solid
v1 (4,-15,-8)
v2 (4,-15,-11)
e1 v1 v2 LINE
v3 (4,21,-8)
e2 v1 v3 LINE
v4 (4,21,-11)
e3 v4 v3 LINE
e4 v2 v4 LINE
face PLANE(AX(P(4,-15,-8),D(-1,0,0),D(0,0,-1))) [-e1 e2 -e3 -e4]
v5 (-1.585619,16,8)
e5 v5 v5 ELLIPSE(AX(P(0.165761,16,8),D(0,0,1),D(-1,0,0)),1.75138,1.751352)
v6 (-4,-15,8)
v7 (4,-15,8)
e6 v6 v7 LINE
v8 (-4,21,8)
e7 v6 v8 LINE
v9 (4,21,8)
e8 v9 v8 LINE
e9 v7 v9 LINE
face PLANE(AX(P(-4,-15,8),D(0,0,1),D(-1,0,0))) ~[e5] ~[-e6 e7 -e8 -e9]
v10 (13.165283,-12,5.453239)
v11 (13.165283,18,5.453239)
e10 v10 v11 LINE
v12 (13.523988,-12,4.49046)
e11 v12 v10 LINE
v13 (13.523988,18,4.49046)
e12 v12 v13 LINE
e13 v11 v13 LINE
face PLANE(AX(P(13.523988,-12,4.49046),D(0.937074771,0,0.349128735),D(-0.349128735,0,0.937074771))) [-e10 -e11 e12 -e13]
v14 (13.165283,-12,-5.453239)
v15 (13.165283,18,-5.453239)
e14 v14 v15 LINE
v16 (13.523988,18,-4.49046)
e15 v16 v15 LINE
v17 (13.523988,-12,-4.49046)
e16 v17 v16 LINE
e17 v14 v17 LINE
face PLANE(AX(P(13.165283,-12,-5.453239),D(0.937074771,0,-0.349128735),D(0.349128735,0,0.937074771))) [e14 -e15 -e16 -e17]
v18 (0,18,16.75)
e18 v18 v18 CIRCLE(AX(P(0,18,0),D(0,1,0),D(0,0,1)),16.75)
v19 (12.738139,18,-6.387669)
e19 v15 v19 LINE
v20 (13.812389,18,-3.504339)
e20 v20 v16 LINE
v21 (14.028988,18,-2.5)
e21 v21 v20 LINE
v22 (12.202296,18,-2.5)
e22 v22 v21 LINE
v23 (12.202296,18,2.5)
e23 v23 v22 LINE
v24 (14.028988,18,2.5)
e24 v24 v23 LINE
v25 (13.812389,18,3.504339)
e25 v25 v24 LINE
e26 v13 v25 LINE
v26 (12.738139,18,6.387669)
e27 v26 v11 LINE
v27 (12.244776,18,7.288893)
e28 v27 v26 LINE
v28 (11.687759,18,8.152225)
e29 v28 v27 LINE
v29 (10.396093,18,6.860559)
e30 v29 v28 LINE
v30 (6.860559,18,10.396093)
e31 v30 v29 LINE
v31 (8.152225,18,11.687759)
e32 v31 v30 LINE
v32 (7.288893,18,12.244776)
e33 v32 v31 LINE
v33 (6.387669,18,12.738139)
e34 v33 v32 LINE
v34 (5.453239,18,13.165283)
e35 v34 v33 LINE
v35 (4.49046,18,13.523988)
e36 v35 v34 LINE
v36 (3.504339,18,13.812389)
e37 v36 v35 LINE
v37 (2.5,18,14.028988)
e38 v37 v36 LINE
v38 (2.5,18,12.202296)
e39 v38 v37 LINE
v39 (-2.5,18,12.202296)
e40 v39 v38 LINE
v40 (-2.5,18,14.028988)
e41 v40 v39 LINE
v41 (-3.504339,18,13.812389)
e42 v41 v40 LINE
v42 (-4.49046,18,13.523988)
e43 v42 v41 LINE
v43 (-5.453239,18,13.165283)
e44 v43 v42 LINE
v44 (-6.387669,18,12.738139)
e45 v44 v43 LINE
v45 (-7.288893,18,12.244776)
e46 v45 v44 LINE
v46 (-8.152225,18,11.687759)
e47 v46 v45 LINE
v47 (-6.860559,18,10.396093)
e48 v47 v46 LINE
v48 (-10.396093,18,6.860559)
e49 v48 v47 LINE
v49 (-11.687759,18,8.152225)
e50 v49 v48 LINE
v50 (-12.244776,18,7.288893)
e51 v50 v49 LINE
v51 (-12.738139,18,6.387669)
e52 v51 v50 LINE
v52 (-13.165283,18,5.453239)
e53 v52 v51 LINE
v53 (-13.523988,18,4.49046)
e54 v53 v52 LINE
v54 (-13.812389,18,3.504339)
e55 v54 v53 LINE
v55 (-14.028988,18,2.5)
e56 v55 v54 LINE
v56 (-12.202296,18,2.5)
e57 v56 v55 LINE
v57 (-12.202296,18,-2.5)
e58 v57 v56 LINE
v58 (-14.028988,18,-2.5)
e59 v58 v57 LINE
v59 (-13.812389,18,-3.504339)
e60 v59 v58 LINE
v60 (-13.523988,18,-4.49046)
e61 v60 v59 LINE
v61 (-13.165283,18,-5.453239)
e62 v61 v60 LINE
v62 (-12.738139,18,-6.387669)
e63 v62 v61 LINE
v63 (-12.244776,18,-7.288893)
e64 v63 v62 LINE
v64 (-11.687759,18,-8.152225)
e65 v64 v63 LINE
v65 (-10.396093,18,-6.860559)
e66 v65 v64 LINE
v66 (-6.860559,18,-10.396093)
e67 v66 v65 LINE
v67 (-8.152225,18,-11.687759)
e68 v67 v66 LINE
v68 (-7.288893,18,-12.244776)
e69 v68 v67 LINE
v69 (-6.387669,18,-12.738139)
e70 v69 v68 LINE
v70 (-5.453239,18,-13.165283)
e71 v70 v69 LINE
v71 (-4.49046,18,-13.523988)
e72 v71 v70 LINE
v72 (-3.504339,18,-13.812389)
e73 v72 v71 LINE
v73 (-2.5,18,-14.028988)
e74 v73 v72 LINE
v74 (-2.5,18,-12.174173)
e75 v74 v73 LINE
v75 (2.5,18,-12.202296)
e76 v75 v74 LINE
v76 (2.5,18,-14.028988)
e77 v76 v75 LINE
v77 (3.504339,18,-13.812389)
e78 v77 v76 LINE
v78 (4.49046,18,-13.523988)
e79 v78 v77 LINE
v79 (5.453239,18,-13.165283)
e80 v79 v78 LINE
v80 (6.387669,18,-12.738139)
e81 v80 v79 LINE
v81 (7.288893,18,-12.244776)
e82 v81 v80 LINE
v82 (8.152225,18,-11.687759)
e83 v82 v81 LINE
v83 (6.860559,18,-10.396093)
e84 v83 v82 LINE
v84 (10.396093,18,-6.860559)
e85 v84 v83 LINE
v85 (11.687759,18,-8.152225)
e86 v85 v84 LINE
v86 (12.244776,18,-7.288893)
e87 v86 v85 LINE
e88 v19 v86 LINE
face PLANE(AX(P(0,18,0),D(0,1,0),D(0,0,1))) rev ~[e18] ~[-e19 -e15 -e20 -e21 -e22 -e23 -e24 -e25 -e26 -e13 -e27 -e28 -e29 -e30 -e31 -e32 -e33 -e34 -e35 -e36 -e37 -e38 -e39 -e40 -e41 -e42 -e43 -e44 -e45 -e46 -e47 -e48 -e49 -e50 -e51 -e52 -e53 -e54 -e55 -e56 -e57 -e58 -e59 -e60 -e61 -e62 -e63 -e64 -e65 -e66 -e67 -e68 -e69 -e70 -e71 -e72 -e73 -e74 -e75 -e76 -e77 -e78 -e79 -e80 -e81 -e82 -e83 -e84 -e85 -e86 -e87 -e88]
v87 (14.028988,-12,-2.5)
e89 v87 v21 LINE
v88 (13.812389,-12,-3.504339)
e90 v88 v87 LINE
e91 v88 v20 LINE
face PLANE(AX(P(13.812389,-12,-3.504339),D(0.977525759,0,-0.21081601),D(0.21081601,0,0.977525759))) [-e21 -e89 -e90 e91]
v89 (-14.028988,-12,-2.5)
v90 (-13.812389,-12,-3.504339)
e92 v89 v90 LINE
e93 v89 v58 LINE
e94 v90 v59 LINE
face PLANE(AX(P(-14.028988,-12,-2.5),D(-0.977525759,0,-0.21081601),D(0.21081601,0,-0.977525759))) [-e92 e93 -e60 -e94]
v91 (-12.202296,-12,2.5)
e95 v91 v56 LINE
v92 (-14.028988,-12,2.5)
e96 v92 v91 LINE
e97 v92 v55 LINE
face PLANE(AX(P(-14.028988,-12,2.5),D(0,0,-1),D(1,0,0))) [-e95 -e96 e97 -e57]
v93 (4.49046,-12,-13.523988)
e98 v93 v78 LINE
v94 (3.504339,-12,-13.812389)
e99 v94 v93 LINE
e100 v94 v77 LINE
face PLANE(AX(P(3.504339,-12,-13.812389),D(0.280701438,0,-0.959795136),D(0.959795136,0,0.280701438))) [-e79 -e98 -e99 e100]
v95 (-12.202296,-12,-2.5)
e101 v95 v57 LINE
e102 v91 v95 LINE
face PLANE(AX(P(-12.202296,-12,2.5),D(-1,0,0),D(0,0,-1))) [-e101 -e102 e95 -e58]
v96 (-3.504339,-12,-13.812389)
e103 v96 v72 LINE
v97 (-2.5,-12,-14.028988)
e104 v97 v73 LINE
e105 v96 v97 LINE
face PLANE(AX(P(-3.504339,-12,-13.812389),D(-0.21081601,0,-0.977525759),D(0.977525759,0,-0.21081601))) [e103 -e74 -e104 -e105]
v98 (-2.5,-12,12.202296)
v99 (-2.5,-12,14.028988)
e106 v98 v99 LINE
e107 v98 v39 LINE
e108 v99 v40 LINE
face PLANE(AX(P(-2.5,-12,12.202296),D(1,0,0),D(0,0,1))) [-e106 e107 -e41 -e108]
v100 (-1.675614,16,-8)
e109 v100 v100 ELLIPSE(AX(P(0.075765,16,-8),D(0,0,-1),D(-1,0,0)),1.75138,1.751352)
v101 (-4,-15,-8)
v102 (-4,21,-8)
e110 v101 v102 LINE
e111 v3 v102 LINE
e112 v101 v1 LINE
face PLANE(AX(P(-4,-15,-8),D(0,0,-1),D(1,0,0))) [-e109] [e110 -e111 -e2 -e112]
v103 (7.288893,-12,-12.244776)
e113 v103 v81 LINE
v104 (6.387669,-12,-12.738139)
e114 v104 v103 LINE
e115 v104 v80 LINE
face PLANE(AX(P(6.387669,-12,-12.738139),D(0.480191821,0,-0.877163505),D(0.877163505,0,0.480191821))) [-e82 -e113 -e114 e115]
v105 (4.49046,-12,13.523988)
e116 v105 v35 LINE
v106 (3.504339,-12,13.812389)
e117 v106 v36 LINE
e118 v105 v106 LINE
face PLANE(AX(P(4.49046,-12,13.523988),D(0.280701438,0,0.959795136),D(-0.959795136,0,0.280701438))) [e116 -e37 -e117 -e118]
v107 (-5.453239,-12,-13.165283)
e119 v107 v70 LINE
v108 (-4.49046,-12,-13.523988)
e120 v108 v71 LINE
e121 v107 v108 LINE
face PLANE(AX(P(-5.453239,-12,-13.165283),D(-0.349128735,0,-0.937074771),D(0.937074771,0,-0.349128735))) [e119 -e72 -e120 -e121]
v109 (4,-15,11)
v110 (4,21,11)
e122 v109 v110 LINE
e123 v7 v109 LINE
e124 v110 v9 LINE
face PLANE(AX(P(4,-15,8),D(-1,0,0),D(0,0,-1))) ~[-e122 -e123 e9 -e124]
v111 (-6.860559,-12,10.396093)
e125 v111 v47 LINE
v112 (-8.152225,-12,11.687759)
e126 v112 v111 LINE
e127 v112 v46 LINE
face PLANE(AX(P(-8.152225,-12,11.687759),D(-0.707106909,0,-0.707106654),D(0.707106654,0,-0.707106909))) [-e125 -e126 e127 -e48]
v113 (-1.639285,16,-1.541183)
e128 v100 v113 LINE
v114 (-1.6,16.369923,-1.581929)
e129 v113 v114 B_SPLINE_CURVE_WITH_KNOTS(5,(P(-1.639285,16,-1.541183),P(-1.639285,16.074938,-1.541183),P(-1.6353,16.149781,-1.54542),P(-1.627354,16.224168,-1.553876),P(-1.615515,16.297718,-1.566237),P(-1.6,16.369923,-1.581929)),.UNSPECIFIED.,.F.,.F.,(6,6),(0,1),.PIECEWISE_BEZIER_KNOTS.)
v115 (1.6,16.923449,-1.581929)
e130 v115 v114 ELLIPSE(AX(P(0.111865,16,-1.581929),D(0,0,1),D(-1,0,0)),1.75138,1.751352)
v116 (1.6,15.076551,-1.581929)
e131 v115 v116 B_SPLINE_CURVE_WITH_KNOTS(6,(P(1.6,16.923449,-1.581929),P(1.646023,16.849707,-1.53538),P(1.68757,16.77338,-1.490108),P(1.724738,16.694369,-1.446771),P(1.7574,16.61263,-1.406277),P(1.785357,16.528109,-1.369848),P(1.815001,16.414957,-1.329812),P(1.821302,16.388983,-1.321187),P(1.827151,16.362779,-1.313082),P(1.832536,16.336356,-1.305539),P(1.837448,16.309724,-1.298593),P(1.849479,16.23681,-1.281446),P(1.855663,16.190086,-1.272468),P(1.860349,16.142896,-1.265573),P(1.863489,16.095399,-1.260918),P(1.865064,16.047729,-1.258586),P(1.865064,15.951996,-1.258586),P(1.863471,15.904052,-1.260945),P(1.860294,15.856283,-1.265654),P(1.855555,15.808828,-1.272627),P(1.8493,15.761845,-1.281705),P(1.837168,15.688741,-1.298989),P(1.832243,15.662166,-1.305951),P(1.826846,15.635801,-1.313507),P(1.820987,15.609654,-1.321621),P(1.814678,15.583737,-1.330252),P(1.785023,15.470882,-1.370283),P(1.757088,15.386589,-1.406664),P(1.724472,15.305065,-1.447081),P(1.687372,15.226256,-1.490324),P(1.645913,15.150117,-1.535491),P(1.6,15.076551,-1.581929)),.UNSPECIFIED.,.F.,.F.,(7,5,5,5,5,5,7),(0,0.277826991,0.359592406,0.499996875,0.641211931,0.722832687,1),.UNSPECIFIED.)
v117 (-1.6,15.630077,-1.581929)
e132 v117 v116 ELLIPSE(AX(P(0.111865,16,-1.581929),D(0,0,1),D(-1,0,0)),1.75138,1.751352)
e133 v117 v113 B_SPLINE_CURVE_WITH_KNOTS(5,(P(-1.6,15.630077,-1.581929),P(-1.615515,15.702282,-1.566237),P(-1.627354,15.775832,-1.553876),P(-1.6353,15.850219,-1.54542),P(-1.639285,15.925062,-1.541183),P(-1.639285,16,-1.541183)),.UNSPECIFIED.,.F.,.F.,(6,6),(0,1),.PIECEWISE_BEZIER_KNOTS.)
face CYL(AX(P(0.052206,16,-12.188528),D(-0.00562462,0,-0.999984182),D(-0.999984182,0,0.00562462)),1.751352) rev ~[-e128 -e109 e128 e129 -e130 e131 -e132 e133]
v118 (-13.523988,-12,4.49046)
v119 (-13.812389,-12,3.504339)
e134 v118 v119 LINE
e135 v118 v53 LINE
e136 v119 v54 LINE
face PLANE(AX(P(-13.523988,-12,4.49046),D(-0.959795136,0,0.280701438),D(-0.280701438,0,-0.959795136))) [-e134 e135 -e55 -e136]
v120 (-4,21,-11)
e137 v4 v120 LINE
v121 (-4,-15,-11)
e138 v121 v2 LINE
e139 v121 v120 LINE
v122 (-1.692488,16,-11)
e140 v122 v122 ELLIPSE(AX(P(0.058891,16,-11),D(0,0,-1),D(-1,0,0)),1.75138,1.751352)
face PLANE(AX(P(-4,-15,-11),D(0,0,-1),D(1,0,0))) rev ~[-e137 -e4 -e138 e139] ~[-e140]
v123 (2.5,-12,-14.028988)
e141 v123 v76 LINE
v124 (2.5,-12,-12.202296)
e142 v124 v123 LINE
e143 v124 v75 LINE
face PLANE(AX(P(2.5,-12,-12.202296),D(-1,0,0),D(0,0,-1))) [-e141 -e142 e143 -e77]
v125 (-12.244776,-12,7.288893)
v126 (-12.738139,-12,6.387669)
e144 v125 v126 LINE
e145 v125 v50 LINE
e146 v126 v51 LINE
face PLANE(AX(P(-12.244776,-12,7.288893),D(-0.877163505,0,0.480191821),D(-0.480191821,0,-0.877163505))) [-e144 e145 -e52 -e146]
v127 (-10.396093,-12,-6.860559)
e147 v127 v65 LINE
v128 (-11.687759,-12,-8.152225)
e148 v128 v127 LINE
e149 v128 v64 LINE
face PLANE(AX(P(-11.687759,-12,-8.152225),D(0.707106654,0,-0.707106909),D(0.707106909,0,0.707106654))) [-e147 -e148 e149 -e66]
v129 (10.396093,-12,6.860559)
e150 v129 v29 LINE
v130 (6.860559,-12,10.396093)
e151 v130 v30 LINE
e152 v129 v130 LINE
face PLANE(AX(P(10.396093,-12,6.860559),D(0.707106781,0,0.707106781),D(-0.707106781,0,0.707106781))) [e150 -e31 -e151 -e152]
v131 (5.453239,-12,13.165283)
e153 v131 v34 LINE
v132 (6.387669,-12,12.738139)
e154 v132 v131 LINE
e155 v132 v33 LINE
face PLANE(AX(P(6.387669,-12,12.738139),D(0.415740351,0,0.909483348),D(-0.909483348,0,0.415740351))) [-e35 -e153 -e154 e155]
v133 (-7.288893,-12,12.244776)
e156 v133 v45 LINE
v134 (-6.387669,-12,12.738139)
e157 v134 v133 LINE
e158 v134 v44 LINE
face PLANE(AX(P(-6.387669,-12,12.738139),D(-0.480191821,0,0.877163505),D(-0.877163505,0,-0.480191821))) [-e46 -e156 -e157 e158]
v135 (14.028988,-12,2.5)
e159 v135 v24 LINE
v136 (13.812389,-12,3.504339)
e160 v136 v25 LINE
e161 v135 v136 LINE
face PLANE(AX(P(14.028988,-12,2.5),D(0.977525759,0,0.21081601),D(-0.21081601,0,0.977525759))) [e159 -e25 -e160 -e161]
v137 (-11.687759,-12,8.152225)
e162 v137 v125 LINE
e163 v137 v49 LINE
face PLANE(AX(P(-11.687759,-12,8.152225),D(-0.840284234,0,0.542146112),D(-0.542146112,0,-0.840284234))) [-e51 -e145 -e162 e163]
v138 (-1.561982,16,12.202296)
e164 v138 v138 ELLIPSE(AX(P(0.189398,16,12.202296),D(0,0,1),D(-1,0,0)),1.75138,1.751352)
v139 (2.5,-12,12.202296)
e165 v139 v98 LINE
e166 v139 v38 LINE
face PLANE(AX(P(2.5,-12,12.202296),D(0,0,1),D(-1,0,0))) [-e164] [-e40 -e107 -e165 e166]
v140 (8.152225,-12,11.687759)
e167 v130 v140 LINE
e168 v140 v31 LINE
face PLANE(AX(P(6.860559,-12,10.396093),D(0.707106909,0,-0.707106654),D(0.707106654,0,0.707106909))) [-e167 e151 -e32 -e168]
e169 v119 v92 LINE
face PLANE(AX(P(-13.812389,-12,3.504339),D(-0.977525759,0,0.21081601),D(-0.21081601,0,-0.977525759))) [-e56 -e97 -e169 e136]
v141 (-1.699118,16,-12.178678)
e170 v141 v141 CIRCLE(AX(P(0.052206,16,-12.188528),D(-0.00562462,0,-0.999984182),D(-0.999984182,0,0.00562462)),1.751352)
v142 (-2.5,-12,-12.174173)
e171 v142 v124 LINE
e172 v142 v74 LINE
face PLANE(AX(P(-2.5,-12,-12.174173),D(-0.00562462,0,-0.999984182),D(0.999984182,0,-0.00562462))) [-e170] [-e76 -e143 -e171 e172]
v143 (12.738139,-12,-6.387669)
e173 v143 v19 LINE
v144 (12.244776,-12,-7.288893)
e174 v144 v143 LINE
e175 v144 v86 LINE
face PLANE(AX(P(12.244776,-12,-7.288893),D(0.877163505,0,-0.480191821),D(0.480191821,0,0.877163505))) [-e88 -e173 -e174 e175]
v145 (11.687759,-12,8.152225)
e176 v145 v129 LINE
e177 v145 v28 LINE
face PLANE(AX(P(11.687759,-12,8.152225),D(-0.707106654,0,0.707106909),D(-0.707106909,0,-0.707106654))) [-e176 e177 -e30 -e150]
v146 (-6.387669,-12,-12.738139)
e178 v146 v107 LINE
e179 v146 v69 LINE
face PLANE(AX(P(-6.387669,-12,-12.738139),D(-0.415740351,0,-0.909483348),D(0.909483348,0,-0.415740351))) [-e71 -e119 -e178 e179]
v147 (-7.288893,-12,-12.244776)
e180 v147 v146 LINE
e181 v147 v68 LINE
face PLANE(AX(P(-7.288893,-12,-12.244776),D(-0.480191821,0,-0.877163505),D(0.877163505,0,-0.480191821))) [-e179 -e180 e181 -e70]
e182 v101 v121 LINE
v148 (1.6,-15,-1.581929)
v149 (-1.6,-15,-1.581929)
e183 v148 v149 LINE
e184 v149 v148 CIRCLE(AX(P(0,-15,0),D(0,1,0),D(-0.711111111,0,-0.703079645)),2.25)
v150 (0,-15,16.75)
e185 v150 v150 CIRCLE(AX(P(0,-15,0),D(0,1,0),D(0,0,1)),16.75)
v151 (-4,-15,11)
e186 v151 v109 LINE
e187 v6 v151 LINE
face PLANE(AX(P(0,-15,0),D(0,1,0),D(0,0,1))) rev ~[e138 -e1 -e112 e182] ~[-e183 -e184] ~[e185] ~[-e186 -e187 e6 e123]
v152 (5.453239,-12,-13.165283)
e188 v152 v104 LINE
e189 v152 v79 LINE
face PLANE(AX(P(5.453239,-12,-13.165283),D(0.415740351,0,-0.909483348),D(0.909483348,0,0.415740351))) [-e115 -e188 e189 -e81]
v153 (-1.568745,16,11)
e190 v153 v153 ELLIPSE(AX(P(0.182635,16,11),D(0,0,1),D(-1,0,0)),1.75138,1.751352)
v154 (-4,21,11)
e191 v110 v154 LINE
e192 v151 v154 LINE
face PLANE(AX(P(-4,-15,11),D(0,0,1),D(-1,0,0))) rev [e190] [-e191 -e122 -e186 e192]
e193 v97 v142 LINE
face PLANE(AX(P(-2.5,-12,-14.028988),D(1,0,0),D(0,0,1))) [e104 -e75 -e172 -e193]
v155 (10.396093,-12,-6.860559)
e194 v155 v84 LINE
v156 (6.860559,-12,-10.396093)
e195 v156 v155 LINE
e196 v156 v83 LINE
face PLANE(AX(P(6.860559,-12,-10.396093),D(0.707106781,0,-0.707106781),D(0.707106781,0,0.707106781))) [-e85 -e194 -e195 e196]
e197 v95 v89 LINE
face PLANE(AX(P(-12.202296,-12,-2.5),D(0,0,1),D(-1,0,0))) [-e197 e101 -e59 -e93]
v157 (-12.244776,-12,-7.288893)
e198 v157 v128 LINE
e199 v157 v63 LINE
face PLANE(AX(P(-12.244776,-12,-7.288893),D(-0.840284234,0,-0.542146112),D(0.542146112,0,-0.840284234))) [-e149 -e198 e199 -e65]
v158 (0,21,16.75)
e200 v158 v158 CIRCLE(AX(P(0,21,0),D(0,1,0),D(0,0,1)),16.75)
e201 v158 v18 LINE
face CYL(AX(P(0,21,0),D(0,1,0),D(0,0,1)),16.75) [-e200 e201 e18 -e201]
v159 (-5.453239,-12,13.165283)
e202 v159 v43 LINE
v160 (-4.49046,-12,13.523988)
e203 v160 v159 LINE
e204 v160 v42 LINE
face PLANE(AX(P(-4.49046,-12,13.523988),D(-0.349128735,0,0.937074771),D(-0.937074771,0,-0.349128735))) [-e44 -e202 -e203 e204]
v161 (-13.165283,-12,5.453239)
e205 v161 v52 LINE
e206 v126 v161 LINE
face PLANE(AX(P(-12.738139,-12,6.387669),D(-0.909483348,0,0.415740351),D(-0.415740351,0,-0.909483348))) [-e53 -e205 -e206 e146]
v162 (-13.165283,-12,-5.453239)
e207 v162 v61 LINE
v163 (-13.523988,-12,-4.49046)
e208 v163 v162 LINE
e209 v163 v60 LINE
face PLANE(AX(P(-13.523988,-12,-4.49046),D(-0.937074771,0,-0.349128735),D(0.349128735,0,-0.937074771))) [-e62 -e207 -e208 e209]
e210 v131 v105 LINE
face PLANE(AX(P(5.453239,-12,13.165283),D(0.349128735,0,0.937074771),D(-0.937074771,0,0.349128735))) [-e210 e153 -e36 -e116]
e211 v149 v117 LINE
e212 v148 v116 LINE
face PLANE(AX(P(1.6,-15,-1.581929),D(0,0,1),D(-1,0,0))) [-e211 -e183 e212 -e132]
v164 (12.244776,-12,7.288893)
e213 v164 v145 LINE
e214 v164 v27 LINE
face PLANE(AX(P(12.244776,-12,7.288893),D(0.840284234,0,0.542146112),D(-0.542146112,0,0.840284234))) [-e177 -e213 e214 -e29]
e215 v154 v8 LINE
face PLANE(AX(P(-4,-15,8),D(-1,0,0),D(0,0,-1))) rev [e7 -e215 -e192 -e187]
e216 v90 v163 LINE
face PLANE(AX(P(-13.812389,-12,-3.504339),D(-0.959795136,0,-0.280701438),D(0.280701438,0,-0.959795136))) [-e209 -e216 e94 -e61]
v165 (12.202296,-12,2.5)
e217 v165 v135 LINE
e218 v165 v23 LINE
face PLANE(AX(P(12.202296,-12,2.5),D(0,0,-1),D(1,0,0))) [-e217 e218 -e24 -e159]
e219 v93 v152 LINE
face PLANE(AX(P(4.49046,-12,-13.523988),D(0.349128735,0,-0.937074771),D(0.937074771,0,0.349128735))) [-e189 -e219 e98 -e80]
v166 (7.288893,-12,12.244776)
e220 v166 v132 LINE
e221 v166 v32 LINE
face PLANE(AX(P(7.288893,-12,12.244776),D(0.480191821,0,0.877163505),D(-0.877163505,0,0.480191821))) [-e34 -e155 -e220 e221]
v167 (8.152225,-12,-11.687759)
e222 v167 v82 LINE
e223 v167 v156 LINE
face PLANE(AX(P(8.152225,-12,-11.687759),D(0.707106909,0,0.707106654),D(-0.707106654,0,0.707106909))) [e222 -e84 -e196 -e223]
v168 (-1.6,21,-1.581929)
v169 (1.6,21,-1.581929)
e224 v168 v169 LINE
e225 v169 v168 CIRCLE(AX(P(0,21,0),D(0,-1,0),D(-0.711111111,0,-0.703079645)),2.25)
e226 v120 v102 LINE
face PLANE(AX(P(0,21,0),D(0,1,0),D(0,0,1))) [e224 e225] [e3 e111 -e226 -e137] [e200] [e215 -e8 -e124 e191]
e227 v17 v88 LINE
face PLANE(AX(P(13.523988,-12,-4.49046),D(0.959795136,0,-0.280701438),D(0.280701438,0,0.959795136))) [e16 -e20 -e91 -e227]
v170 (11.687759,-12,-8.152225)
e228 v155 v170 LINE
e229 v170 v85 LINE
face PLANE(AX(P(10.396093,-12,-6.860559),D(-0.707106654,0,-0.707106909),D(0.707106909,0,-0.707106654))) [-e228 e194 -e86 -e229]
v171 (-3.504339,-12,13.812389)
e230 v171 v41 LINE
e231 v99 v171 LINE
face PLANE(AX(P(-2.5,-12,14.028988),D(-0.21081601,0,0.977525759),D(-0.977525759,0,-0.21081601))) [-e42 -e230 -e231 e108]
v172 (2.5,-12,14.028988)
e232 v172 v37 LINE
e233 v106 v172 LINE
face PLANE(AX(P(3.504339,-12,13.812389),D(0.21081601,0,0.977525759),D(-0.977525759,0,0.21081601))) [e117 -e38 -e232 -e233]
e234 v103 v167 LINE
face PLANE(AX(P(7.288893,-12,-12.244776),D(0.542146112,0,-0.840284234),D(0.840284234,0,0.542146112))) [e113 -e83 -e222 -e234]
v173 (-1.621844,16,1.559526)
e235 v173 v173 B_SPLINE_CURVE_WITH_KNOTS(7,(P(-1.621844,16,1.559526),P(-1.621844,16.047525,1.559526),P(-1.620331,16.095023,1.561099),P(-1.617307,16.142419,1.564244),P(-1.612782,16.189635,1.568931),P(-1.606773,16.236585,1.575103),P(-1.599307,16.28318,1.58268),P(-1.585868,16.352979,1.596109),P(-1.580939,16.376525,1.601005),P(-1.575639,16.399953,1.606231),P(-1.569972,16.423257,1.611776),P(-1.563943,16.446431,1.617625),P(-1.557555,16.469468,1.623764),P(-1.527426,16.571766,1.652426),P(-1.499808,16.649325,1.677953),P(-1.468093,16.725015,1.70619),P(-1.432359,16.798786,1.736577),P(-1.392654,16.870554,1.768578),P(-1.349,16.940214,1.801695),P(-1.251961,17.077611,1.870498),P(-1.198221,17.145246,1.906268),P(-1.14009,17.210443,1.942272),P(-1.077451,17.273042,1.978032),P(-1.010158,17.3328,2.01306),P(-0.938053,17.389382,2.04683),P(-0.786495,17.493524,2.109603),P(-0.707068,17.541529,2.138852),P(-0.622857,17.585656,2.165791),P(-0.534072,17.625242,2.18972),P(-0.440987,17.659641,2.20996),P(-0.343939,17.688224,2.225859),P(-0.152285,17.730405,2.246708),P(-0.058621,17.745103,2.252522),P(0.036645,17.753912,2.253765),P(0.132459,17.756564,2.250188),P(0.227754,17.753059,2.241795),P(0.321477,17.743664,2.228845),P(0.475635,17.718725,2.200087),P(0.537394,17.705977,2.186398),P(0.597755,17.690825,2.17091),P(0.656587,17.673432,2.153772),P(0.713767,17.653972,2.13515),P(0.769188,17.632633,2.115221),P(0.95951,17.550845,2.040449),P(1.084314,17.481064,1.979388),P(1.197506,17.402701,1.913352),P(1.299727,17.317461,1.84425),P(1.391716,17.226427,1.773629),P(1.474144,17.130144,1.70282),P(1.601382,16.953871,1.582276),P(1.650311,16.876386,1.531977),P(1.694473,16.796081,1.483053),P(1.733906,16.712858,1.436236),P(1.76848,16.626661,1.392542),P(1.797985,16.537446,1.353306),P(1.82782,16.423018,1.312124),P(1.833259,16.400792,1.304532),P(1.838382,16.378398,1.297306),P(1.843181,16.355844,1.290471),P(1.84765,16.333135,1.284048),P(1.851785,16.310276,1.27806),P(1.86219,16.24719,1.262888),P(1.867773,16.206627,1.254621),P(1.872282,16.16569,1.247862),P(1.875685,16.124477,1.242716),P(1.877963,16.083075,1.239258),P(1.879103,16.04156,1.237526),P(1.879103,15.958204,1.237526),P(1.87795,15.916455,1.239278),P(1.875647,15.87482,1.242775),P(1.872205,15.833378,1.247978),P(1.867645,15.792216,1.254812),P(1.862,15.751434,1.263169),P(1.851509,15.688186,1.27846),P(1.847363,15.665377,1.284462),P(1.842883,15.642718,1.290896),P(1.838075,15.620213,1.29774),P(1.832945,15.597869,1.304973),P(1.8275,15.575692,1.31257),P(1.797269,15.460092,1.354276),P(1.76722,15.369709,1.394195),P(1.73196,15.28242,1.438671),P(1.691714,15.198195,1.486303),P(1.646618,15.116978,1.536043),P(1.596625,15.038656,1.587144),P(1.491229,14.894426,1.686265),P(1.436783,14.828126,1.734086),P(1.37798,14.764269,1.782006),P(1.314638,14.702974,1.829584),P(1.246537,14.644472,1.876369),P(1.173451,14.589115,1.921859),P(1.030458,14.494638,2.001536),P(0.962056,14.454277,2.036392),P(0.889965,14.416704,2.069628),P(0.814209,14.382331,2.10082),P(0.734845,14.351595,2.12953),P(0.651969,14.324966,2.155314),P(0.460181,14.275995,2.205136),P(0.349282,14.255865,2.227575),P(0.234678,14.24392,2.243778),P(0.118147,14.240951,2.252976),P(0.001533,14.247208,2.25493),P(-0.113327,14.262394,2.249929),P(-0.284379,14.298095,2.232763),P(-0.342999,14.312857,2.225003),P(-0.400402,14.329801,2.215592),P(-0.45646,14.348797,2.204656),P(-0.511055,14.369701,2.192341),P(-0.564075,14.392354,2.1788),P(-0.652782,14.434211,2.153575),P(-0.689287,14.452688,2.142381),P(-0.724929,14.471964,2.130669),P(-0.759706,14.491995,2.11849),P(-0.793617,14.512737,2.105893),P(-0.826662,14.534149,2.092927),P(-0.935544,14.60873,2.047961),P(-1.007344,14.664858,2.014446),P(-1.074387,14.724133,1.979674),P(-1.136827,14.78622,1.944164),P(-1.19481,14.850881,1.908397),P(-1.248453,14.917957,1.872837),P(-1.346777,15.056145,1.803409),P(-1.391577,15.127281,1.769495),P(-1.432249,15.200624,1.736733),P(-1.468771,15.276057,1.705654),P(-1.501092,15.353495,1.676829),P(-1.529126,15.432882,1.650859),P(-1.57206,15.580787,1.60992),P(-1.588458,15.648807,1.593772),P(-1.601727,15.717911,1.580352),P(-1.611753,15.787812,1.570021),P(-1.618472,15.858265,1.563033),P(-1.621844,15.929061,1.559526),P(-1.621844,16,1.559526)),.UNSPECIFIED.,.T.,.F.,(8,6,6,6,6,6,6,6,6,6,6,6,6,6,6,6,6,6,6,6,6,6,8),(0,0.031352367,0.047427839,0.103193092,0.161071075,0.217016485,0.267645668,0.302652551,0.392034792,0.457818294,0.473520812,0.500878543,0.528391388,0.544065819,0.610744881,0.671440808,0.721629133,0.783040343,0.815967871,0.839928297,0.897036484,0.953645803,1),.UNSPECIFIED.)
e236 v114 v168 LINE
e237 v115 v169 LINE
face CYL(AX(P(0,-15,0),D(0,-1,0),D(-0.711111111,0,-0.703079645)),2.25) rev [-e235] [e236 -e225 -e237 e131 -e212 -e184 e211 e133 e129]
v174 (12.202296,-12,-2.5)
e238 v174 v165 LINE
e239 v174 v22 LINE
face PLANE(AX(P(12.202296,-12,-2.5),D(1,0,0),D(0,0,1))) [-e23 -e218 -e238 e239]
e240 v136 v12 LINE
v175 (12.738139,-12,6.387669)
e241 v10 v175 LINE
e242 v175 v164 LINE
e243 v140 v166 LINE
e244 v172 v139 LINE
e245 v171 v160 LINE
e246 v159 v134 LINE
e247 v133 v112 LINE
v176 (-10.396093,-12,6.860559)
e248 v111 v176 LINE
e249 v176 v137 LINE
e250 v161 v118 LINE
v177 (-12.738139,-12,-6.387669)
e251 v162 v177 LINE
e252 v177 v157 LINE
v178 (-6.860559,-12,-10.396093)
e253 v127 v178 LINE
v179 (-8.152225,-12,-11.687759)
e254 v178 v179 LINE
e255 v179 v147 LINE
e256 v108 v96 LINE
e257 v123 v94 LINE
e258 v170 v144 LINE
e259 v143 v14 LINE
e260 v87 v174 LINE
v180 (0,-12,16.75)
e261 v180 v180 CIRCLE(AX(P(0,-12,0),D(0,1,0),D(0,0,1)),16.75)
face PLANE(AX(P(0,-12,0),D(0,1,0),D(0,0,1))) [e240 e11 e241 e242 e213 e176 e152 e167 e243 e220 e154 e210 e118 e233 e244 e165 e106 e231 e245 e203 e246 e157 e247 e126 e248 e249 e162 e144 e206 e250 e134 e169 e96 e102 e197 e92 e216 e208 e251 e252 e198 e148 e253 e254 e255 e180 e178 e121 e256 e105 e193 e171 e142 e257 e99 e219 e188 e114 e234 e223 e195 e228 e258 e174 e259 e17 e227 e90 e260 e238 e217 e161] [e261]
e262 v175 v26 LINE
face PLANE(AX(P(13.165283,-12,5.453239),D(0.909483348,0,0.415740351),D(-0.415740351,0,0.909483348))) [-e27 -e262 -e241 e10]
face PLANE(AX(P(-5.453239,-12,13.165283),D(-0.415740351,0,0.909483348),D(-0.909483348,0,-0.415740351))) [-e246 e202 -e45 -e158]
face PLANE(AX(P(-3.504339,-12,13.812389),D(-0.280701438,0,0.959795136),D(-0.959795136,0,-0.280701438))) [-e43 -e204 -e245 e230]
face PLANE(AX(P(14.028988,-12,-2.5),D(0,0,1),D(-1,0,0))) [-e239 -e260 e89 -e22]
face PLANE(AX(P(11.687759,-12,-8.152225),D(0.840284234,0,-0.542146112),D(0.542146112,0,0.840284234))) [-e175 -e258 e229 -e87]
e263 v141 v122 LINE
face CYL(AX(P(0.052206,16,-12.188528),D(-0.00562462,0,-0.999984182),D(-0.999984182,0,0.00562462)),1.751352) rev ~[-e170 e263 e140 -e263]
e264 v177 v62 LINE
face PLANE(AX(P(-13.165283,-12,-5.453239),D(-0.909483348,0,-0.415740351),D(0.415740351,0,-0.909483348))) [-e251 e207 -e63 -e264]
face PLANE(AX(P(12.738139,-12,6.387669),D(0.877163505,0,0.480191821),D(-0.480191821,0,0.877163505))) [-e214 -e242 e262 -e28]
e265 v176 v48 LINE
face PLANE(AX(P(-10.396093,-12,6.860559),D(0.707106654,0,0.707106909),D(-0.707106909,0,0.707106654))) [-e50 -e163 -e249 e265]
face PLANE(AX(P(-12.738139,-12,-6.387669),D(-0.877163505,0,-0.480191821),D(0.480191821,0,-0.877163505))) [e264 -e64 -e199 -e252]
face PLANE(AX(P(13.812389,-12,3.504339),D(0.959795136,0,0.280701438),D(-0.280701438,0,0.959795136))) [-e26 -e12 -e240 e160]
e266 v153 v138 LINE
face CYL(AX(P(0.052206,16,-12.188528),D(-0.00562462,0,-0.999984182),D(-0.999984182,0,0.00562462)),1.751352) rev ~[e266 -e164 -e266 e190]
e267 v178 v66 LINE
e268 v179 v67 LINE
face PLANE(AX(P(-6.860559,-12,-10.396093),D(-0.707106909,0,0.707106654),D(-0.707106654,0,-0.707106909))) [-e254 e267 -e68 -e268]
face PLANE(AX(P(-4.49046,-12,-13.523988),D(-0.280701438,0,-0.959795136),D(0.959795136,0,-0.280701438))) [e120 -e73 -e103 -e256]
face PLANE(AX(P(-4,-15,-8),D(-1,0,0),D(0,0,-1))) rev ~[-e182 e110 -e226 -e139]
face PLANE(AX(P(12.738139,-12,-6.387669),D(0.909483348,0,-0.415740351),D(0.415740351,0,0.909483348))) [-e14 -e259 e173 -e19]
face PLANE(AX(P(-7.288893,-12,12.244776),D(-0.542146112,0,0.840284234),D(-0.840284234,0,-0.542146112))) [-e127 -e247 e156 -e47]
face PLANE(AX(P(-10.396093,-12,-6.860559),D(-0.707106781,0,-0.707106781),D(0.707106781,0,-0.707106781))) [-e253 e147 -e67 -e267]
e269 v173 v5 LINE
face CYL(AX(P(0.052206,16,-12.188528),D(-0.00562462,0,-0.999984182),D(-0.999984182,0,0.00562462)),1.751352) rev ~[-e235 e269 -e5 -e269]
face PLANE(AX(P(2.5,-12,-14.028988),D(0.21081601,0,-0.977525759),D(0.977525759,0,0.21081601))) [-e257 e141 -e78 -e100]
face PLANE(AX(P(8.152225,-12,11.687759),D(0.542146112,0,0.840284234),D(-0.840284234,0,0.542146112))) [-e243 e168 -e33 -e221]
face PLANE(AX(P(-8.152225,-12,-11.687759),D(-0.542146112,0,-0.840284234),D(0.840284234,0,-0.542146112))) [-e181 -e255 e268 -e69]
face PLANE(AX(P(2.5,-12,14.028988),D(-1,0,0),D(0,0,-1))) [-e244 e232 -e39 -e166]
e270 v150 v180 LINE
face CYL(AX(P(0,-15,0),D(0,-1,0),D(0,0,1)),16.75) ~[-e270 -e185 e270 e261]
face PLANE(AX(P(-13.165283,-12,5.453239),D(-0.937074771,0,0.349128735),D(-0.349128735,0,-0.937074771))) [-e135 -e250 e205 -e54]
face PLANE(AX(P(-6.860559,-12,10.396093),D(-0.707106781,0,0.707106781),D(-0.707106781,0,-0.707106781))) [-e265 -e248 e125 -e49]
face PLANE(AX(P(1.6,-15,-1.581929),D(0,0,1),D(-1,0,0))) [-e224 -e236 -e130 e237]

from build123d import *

# Parameters (mm, degrees)
SKETCH1_R           = 16.75
BOSS_EXTRUDE1_DEPTH = 3
SKETCH3_R           = 16.75
BOSS_EXTRUDE2_DEPTH = 3
BOSS_EXTRUDE3_DEPTH = 31
SKETCH7_R           = 1.751351815
CUT_EXTRUDE11_DEPTH = 50
CUT_EXTRUDE1_DEPTH  = 50
SKETCH8_W           = 8
SKETCH8_H           = 3
CUT_EXTRUDE12_DEPTH = 40


with BuildPart() as part:
    # Sketch1 → Boss-Extrude1 (new body)
    with BuildSketch(Plane(origin=(0, -15, 0), x_dir=(1, 0, 0), z_dir=(0, 1, 0))):
        Circle(SKETCH1_R)
    extrude(amount=BOSS_EXTRUDE1_DEPTH)



with BuildPart() as body_2:
    # Sketch3 → Boss-Extrude2 (new body)
    with BuildSketch(Plane(origin=(0, 21, 0), x_dir=(1, 0, 0), z_dir=(0, 1, 0))):
        Circle(SKETCH3_R)
    extrude(amount=-BOSS_EXTRUDE2_DEPTH)


with BuildPart() as part_1:
    add(part.part)

    add(body_2.part)  # Boss-Extrude3 merges body 2
    # Sketch6 → Boss-Extrude3 (add)
    with BuildSketch(Plane(origin=(0, -12, 0), x_dir=(1, 0, 0), z_dir=(0, 1, 0))):
        Polygon((-10.39609313, -6.860559341), (-11.68775931, -8.152225055), (-12.244775891, -7.288892753), (-12.738139369, -6.387668662), (-13.165283017, -5.453239195), (-13.523988426, -4.490460269), (-13.812389225, -3.504338907), (-14.028987847, -2.499999944), (-12.202296406, -2.499999944), (-12.202296406, 2.499999944), (-14.028987847, 2.499999944), (-13.812389225, 3.504338907), (-13.523988426, 4.490460269), (-13.165283017, 5.453239195), (-12.738139369, 6.387668662), (-12.244775891, 7.288892753), (-11.68775931, 8.152225055), (-10.39609313, 6.860559341), (-6.860559341, 10.39609313), (-8.152225055, 11.68775931), (-7.288892753, 12.244775891), (-6.387668662, 12.738139369), (-5.453239195, 13.165283017), (-4.490460269, 13.523988426), (-3.504338907, 13.812389225), (-2.499999944, 14.028987847), (-2.499999944, 12.174172863), (2.499999944, 12.202296406), (2.499999944, 14.028987847), (3.504338907, 13.812389225), (4.490460269, 13.523988426), (5.453239195, 13.165283017), (6.387668662, 12.738139369), (7.288892753, 12.244775891), (8.152225055, 11.68775931), (6.860559341, 10.39609313), (10.39609313, 6.860559341), (11.68775931, 8.152225055), (12.244775891, 7.288892753), (12.738139369, 6.387668662), (13.165283017, 5.453239195), (13.523988426, 4.490460269), (13.812389225, 3.504338907), (14.028987847, 2.499999944), (12.202296406, 2.499999944), (12.202296406, -2.499999944), (14.028987847, -2.499999944), (13.812389225, -3.504338907), (13.523988426, -4.490460269), (13.165283017, -5.453239195), (12.738139369, -6.387668662), (12.244775891, -7.288892753), (11.68775931, -8.152225055), (10.39609313, -6.860559341), (6.860559341, -10.39609313), (8.152225055, -11.68775931), (7.288892753, -12.244775891), (6.387668662, -12.738139369), (5.453239195, -13.165283017), (4.490460269, -13.523988426), (3.504338907, -13.812389225), (2.499999944, -14.028987847), (2.499999944, -12.202296406), (-2.499999944, -12.202296406), (-2.499999944, -14.028987847), (-3.504338907, -13.812389225), (-4.490460269, -13.523988426), (-5.453239195, -13.165283017), (-6.387668662, -12.738139369), (-7.288892753, -12.244775891), (-8.152225055, -11.68775931), (-6.860559341, -10.39609313), align=None)
    extrude(amount=BOSS_EXTRUDE3_DEPTH)

    # Sketch7 → Cut-Extrude11 (cut)
    with BuildSketch(Plane(origin=(-0.068553102, 0, -12.187849043), x_dir=(-0.9999841817006155, 0, 0.005624619858302935), z_dir=(-0.005624619858302935, 0, -0.9999841817006155))):
        with Locations((-0.120761258, 16)):
            Circle(SKETCH7_R)
    extrude(amount=-CUT_EXTRUDE11_DEPTH, mode=Mode.SUBTRACT)

    # Sketch2 → Cut-Extrude1 (cut)
    with BuildSketch(Plane(origin=(0, -15, 0), x_dir=(1, 0, 0), z_dir=(0, 1, 0))):
        with BuildLine():
            Line((1.6, 1.581929202), (-1.6, 1.581929202))
            ThreePointArc((-1.6, 1.581929202), (0, -2.25), (1.6, 1.581929202))
        make_face()
    extrude(amount=CUT_EXTRUDE1_DEPTH, mode=Mode.SUBTRACT)

    # Sketch8 → Cut-Extrude12 (cut)
    with BuildSketch(Plane(origin=(0, -15, 0), x_dir=(1, 0, 0), z_dir=(0, 1, 0))):
        with Locations((0, 9.5)):
            Rectangle(SKETCH8_W, SKETCH8_H)
    cut_extrude12 = extrude(amount=CUT_EXTRUDE12_DEPTH, mode=Mode.SUBTRACT)

    # Mirror1: Cut-Extrude12 across plane
    add(cut_extrude12.mirror(Plane.XY), mode=Mode.SUBTRACT)


solid = part_1.part
